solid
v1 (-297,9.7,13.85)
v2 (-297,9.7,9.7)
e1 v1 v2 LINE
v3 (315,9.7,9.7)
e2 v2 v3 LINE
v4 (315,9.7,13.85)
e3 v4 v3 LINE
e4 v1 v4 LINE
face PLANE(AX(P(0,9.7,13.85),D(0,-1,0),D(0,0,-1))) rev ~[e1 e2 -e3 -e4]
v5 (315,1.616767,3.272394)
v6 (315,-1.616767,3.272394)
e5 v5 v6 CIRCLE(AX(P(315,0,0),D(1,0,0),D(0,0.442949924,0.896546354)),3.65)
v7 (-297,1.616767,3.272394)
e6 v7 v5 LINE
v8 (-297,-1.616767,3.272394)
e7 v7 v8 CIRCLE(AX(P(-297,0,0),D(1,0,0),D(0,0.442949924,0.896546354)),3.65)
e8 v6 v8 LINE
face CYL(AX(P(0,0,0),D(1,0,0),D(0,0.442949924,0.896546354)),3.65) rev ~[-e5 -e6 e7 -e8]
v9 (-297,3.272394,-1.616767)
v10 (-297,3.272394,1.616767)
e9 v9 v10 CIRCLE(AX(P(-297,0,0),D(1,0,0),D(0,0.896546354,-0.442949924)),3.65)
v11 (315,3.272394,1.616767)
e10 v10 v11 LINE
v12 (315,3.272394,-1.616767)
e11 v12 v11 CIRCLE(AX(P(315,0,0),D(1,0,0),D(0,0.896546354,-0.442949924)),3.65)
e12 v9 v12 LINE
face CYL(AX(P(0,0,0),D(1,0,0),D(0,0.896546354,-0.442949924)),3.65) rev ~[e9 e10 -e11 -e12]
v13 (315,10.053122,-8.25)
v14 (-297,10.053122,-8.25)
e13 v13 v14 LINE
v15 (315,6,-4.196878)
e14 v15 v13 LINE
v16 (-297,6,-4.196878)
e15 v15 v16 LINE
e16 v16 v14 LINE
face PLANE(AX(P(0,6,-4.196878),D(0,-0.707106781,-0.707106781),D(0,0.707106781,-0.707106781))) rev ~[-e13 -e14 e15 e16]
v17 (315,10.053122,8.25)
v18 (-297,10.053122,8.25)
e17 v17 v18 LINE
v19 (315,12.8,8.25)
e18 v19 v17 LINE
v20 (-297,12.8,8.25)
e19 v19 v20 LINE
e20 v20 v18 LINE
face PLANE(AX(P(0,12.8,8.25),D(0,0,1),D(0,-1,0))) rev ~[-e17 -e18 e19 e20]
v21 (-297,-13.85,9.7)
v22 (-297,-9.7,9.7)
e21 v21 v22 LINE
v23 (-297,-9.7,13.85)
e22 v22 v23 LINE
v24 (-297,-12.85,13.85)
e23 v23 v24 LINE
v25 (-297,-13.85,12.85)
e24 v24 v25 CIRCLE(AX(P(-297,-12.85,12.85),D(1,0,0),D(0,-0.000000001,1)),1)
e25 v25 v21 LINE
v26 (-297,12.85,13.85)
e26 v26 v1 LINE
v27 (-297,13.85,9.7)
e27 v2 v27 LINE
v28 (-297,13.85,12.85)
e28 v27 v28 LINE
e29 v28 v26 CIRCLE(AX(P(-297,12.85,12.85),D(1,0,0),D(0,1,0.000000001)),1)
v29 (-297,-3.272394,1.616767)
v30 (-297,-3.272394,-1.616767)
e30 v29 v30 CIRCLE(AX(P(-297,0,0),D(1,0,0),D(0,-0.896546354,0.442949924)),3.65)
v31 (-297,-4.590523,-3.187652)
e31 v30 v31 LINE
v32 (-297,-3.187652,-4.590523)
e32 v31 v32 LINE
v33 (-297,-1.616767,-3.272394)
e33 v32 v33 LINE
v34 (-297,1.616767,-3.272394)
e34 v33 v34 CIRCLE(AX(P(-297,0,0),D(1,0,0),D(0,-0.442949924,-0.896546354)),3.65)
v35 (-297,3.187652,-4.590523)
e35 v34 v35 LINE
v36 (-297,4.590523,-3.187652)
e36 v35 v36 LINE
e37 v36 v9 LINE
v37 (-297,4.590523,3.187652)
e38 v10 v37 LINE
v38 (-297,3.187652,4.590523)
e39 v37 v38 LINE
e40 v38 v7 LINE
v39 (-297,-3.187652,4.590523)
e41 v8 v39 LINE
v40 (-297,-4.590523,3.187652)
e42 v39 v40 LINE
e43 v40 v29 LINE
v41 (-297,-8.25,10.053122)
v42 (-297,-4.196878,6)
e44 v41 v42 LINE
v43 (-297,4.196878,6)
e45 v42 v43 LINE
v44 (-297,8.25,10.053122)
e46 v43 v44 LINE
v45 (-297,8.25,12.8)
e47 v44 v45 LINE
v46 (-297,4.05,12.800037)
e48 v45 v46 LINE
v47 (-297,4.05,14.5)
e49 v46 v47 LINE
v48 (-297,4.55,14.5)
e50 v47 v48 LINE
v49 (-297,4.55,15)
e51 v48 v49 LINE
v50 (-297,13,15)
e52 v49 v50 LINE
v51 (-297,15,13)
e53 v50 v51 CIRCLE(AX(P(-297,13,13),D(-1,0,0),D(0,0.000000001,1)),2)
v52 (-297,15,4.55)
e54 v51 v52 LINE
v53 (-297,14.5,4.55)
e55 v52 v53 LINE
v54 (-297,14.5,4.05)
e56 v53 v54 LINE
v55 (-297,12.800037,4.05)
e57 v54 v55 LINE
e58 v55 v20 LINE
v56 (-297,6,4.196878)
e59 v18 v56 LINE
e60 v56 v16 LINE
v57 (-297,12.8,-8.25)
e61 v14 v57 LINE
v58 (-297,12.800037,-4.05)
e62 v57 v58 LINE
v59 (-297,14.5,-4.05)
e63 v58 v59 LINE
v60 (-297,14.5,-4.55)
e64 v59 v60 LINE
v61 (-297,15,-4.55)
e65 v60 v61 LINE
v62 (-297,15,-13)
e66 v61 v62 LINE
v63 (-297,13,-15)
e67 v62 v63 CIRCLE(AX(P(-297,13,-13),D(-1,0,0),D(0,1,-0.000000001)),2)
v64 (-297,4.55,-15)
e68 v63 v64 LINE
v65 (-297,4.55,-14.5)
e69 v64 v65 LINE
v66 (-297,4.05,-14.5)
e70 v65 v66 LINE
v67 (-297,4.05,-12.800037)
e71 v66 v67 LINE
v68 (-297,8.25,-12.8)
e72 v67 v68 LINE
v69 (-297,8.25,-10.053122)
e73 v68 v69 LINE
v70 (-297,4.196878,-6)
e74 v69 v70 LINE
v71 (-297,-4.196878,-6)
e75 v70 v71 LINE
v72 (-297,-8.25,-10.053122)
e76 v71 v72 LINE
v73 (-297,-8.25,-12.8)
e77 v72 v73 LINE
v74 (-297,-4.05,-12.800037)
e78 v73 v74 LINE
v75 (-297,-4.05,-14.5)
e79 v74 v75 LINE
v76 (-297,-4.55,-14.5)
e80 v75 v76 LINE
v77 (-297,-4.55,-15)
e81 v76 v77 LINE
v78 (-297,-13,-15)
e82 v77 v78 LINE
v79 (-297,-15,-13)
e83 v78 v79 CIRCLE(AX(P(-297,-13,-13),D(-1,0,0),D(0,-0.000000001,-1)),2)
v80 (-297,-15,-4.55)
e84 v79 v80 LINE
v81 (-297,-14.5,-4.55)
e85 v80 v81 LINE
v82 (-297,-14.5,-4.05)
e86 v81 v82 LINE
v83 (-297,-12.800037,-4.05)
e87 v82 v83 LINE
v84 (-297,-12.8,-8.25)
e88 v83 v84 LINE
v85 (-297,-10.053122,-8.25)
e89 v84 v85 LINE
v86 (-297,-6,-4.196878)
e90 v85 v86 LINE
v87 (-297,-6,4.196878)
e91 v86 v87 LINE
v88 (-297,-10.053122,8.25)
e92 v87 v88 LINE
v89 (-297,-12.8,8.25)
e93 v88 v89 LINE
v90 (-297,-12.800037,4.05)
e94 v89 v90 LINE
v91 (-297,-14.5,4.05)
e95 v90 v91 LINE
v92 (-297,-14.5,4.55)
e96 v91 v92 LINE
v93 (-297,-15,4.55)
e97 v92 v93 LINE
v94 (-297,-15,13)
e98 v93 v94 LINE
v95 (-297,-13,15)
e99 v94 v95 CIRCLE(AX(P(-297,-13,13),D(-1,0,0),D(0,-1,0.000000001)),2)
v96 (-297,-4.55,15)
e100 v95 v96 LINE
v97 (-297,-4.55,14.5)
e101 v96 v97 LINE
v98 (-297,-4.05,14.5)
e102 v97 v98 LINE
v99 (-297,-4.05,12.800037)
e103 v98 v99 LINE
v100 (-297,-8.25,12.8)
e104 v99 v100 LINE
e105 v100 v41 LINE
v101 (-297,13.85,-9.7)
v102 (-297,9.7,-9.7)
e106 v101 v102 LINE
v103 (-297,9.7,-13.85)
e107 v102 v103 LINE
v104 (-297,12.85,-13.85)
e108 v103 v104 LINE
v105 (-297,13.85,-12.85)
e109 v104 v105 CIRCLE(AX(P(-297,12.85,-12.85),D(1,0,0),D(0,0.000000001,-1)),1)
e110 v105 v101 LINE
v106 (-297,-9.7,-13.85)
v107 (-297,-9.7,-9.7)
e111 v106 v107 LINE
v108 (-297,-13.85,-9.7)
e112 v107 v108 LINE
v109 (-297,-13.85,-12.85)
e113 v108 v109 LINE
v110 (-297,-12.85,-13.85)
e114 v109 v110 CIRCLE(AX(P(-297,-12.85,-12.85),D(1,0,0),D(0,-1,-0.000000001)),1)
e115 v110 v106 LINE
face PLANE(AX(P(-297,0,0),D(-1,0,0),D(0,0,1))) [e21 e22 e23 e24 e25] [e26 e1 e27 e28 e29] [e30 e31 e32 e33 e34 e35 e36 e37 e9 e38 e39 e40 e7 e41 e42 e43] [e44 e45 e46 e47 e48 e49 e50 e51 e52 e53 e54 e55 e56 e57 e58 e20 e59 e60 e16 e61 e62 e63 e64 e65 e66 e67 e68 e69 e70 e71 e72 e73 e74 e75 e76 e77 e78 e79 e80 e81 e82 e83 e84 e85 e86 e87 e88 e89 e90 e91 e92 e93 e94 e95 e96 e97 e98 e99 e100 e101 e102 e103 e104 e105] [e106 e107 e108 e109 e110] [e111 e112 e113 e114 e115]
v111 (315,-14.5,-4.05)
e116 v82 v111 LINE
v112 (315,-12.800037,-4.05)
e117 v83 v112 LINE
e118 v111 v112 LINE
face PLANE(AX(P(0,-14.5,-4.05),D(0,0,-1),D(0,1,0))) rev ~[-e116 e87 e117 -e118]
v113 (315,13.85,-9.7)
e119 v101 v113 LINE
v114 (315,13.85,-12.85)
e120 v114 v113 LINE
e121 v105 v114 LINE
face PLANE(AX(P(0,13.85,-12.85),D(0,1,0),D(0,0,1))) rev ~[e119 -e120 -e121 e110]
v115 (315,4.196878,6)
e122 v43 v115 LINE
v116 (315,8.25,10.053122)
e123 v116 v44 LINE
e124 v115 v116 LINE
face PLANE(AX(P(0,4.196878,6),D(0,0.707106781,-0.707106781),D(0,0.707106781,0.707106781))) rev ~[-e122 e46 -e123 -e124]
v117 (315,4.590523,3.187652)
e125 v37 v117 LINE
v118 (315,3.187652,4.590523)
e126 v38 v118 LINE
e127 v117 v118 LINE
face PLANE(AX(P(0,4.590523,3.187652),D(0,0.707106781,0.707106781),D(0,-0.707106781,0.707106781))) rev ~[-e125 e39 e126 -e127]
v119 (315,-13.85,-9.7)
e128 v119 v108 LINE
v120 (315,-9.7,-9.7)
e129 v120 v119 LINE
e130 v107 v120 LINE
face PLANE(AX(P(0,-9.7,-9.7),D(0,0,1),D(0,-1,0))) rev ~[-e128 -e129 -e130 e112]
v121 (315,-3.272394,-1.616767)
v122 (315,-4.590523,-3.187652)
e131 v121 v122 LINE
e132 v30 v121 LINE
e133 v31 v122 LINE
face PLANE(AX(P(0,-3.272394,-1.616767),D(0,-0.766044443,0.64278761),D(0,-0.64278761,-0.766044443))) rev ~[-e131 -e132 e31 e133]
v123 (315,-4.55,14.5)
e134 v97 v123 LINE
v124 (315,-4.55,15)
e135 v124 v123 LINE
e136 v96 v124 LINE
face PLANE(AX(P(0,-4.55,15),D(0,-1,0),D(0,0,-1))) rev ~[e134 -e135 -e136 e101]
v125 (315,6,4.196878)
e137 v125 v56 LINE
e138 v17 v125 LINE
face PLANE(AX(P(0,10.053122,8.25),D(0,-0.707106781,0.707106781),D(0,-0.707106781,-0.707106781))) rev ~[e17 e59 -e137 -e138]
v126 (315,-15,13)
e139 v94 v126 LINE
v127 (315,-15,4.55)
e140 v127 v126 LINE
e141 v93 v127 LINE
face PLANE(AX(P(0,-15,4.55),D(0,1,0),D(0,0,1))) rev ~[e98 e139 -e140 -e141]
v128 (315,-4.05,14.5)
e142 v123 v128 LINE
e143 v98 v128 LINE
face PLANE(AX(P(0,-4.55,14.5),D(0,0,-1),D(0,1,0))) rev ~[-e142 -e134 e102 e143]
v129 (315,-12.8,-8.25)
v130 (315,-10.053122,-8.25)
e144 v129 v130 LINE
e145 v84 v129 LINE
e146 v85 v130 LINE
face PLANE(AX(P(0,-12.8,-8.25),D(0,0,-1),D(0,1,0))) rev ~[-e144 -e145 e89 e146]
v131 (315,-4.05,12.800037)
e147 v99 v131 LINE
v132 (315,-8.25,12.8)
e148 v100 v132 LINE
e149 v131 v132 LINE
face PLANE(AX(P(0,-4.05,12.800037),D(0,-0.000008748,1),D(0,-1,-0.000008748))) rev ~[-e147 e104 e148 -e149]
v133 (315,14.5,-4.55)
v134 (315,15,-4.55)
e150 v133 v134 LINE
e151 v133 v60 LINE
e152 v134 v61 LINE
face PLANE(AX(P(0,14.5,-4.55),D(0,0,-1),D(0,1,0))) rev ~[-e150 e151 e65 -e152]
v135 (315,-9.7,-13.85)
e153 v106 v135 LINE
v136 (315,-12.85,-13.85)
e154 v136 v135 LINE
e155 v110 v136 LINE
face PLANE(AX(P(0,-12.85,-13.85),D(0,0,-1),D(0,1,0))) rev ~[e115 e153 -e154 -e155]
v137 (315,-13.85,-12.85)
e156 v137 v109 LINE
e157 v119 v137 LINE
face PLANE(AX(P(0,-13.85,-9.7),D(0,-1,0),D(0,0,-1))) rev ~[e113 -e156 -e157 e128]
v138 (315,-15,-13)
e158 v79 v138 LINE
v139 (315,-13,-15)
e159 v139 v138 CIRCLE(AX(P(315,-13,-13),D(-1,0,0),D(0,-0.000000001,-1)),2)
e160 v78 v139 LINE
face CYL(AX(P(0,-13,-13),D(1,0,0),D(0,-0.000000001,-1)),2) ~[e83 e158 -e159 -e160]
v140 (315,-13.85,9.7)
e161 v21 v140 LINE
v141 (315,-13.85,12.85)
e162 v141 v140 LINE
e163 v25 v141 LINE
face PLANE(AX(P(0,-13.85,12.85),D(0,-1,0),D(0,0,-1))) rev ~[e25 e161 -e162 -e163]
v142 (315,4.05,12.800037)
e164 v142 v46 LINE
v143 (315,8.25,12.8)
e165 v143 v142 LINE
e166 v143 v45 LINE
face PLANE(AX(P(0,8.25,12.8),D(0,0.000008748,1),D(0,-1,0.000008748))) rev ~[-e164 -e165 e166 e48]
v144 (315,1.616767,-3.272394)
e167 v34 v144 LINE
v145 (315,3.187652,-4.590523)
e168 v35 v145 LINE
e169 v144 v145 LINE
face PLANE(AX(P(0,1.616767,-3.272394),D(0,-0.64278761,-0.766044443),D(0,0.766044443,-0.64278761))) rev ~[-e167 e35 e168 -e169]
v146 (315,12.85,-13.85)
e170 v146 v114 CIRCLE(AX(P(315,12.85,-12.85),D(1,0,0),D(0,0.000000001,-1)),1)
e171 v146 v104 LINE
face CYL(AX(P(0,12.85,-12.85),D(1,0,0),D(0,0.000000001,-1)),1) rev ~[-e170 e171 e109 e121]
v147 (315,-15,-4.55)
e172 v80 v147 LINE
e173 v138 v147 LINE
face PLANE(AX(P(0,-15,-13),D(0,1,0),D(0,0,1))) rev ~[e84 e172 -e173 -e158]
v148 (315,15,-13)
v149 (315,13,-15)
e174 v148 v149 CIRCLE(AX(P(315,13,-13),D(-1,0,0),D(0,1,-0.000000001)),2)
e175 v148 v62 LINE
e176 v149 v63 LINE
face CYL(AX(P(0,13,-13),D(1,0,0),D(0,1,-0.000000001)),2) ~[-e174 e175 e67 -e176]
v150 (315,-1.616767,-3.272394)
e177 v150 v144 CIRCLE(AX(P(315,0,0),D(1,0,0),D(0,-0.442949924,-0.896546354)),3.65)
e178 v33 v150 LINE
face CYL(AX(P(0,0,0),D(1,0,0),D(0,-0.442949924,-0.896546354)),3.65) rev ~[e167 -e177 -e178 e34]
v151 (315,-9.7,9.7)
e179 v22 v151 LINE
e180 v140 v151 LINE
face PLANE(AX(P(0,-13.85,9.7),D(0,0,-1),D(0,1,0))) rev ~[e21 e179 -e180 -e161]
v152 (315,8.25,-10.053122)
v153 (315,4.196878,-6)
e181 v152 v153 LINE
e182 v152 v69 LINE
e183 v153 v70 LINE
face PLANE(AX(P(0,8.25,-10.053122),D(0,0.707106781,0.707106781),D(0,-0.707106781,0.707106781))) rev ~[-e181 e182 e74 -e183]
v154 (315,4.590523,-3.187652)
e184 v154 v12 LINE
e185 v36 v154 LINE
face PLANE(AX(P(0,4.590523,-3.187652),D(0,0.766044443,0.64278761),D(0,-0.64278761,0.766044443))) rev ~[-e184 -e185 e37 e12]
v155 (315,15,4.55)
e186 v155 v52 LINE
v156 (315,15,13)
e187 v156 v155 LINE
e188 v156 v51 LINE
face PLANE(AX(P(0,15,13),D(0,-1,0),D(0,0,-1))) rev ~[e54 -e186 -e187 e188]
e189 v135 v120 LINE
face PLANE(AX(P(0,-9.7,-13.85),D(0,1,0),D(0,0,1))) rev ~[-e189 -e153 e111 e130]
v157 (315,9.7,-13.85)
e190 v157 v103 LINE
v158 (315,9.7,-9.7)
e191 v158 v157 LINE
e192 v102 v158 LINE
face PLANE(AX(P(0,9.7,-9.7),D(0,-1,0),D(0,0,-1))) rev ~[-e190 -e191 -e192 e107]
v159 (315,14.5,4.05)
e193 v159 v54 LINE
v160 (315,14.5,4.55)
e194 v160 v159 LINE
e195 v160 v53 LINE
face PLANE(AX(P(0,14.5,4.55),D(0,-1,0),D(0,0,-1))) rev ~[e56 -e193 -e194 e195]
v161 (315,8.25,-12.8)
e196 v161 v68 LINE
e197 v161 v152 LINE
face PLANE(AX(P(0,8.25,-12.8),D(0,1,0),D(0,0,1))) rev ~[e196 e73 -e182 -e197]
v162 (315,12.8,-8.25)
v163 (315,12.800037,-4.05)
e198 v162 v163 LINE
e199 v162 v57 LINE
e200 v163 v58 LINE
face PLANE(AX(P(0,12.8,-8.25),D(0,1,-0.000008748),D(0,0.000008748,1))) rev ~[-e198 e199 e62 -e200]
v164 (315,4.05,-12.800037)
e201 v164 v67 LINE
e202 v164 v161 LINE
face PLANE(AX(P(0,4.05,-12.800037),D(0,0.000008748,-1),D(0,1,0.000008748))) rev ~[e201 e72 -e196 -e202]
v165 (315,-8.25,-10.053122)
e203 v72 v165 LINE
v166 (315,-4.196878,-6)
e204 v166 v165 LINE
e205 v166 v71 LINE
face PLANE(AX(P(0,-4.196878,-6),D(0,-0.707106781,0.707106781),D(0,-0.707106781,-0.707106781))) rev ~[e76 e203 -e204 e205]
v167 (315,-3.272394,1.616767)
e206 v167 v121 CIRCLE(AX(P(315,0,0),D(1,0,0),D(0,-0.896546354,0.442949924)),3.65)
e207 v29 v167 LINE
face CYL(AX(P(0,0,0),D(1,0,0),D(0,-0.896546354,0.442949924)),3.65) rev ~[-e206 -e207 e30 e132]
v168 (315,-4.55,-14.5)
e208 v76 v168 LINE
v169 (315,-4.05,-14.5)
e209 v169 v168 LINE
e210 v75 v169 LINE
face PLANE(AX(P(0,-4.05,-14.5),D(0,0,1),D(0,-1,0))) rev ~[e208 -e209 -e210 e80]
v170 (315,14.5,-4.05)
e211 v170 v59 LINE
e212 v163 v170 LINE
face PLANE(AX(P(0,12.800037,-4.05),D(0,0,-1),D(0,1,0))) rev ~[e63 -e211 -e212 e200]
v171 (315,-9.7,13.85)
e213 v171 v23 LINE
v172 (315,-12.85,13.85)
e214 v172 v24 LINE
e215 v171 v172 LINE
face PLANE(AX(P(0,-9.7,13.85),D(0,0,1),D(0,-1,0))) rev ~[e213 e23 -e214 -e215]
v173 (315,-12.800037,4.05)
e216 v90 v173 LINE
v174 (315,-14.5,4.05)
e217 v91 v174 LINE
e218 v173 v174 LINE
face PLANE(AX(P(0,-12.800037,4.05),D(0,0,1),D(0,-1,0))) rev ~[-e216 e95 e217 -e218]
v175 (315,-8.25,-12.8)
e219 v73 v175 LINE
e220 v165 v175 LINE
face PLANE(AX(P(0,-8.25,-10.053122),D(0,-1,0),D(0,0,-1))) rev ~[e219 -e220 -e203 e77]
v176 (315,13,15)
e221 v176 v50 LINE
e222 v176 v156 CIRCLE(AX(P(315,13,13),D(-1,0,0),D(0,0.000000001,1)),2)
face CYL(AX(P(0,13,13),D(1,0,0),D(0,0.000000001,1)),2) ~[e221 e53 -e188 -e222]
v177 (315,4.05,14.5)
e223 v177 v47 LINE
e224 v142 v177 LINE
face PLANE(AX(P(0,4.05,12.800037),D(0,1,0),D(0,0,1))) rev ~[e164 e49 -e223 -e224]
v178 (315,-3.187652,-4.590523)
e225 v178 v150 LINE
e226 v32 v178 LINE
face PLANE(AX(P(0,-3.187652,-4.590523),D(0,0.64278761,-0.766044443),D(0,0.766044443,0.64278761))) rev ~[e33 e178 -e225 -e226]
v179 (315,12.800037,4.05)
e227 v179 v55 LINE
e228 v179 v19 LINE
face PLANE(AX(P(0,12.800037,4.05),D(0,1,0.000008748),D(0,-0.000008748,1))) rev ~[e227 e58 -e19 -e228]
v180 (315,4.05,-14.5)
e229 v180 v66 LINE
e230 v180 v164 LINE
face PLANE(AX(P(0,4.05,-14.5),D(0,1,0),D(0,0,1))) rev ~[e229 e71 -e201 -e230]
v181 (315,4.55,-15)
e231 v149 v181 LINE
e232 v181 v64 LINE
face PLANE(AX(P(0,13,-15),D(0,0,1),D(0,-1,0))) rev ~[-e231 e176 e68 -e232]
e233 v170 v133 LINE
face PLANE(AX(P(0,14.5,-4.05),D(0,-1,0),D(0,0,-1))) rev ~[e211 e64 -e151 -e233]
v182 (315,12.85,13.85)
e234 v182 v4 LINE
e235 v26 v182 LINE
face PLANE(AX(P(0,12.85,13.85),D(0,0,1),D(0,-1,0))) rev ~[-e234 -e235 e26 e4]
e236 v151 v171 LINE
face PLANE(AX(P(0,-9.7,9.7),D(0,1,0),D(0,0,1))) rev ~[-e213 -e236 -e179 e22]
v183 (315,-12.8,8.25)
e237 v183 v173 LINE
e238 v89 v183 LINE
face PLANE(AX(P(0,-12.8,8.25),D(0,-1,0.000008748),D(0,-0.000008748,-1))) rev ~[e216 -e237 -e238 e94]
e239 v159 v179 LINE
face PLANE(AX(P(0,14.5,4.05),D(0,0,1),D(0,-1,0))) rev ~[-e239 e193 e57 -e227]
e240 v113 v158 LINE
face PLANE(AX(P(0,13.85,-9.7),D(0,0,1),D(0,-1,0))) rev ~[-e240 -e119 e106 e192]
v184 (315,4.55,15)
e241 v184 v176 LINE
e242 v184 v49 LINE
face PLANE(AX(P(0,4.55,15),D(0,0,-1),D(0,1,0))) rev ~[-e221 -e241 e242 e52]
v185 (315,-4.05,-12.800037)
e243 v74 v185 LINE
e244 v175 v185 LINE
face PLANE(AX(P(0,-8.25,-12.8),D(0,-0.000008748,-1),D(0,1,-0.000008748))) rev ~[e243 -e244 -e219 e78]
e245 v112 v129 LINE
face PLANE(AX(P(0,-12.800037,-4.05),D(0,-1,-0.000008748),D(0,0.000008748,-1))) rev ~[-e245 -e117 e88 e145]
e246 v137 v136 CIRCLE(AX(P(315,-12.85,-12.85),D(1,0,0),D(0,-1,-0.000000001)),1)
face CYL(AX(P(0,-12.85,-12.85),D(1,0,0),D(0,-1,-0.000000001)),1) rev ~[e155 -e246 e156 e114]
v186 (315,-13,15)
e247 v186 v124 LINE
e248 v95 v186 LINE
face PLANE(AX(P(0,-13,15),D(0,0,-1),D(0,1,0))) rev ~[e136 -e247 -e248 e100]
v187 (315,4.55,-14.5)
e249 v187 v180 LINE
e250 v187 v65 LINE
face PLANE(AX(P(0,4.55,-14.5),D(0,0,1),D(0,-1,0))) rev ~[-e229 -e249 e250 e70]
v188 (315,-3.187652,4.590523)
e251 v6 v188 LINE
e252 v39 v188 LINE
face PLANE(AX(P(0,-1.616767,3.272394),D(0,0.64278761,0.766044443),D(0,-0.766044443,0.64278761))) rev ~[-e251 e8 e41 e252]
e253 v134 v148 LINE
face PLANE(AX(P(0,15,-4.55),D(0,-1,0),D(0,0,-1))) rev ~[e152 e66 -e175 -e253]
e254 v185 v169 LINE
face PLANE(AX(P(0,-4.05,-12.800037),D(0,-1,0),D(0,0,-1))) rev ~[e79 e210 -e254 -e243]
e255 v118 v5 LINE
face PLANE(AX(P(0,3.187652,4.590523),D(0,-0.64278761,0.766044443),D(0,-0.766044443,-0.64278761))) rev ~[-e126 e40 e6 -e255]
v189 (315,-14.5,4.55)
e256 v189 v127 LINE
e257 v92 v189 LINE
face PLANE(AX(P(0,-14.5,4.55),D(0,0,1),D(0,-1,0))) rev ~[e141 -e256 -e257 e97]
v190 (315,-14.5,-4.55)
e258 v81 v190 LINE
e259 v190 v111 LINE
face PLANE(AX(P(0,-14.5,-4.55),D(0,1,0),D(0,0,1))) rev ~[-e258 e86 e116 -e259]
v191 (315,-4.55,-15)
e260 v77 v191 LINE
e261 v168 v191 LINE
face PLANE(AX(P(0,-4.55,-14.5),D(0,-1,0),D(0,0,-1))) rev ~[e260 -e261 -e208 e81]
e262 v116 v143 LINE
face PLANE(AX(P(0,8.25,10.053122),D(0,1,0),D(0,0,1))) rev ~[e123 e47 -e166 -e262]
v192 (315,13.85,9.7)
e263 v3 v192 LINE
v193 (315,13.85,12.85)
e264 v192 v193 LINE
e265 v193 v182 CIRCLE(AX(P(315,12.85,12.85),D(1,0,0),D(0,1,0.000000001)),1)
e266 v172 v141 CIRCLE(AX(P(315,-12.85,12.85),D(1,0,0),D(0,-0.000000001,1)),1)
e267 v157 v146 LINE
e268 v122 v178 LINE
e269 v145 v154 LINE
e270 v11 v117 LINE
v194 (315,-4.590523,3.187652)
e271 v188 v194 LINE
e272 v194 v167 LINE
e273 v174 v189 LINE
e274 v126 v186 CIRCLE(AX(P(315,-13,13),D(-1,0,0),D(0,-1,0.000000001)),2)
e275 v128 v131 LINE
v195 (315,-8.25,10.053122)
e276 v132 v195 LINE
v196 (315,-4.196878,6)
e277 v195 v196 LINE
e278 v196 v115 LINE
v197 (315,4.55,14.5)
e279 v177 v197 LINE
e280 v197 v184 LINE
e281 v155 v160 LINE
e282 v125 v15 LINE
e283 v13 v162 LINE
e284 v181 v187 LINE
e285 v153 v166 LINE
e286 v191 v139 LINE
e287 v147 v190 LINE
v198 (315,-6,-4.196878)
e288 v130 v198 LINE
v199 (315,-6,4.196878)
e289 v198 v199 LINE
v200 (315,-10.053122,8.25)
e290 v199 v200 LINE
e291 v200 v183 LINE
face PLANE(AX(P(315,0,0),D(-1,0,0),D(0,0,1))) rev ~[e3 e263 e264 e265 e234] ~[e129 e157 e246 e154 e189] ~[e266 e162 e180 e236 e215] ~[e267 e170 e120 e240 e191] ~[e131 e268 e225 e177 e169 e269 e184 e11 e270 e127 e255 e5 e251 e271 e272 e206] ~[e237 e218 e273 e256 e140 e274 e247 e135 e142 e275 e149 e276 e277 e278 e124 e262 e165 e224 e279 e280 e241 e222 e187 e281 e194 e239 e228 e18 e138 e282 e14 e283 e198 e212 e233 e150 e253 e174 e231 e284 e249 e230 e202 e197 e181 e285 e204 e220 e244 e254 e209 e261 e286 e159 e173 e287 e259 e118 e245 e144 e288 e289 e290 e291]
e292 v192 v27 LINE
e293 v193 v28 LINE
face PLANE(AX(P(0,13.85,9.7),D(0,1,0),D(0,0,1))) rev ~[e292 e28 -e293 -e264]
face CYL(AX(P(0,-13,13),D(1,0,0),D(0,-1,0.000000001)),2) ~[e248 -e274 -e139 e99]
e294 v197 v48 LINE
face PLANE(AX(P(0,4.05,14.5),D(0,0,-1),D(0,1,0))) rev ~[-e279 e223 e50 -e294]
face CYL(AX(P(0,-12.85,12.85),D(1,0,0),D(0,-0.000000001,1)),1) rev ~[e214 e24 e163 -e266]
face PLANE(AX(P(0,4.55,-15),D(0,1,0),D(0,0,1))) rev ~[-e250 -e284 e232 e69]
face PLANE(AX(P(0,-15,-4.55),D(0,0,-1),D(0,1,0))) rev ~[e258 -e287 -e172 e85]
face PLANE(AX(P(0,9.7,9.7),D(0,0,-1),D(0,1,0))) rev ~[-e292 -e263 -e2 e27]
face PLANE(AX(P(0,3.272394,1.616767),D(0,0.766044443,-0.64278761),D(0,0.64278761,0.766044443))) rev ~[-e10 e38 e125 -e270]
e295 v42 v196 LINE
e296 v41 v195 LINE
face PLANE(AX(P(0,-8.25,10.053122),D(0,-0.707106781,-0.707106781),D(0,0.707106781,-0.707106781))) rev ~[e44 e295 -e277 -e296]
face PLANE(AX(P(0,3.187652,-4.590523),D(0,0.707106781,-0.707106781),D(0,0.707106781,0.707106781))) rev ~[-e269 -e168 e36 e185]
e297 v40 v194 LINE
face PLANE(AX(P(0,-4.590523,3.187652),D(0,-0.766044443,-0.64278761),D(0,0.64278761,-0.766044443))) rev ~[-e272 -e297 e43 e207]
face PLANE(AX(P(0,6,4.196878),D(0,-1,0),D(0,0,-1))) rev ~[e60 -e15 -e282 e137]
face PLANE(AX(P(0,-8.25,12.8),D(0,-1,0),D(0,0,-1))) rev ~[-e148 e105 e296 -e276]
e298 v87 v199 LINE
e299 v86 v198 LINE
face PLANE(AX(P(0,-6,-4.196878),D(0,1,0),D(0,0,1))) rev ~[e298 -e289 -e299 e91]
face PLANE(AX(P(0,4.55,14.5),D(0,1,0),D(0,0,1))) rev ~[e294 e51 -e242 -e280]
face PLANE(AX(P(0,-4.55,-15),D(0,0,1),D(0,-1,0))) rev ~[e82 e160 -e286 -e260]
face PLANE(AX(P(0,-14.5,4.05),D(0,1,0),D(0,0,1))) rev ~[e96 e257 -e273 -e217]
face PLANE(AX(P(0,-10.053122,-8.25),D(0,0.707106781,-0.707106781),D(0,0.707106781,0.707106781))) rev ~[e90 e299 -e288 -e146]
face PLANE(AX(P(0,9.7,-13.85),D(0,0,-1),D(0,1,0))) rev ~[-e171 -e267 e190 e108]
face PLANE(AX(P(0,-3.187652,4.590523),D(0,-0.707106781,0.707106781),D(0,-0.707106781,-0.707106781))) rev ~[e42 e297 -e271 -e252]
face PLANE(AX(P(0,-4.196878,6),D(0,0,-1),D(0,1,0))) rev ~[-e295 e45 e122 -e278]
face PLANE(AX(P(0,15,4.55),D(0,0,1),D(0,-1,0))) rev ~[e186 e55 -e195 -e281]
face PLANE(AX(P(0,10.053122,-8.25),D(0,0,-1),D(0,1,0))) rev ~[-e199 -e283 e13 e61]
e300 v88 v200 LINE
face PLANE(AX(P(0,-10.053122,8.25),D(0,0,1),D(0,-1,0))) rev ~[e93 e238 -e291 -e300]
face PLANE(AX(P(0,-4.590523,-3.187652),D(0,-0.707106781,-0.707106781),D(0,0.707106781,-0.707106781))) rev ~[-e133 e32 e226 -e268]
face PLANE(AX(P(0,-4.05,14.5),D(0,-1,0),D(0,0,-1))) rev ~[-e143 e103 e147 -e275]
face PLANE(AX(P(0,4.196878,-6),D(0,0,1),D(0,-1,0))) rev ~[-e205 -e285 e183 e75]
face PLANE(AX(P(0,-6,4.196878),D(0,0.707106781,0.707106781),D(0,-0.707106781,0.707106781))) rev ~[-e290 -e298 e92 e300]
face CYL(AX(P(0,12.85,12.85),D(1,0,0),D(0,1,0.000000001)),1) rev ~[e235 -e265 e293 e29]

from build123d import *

# Parameters (mm, degrees)
BR_EXTRUDE_DEPTH      = 315
BR_EXTRUDE_DEPTH_BACK = 297


with BuildPart() as part:
    # Sketch2 → BR_Extrude (new body, two sides)
    with BuildSketch(Plane(origin=(0, 0, 0), x_dir=(0, 0, -1), z_dir=(1, 0, 0))) as br_extrude_sk:
        with BuildLine():
            Line((-6, 4.196877708), (-10.053122292, 8.25))
            Line((-10.053122292, 8.25), (-12.8, 8.25))
            Line((-12.8, 8.25), (-12.800036742, 4.05))
            Line((-12.800036742, 4.05), (-14.5, 4.05))
            Line((-14.5, 4.05), (-14.5, 4.55))
            Line((-14.5, 4.55), (-15, 4.55))
            Line((-15, 4.55), (-15, 13))
            ThreePointArc((-15, 13), (-14.414213562, 14.414213562), (-13, 15))
            Line((-13, 15), (-4.55, 15))
            Line((-4.55, 15), (-4.55, 14.5))
            Line((-4.55, 14.5), (-4.05, 14.5))
            Line((-4.05, 14.5), (-4.05, 12.800036742))
            Line((-4.05, 12.800036742), (-8.25, 12.8))
            Line((-8.25, 12.8), (-8.25, 10.053122292))
            Line((-8.25, 10.053122292), (-4.196877708, 6))
            Line((-4.196877708, 6), (4.196877708, 6))
            Line((4.196877708, 6), (8.25, 10.053122292))
            Line((8.25, 10.053122292), (8.25, 12.8))
            Line((8.25, 12.8), (4.05, 12.800036742))
            Line((4.05, 12.800036742), (4.05, 14.5))
            Line((4.05, 14.5), (4.55, 14.5))
            Line((4.55, 14.5), (4.55, 15))
            Line((4.55, 15), (13, 15))
            ThreePointArc((13, 15), (14.414213562, 14.414213562), (15, 13))
            Line((15, 13), (15, 4.55))
            Line((15, 4.55), (14.5, 4.55))
            Line((14.5, 4.55), (14.5, 4.05))
            Line((14.5, 4.05), (12.800036742, 4.05))
            Line((12.800036742, 4.05), (12.8, 8.25))
            Line((12.8, 8.25), (10.053122292, 8.25))
            Line((10.053122292, 8.25), (6, 4.196877708))
            Line((6, 4.196877708), (6, -4.196877708))
            Line((6, -4.196877708), (10.053122292, -8.25))
            Line((10.053122292, -8.25), (12.8, -8.25))
            Line((12.8, -8.25), (12.800036742, -4.05))
            Line((12.800036742, -4.05), (14.5, -4.05))
            Line((14.5, -4.05), (14.5, -4.55))
            Line((14.5, -4.55), (15, -4.55))
            Line((15, -4.55), (15, -13))
            ThreePointArc((15, -13), (14.414213562, -14.414213562), (13, -15))
            Line((13, -15), (4.55, -15))
            Line((4.55, -15), (4.55, -14.5))
            Line((4.55, -14.5), (4.05, -14.5))
            Line((4.05, -14.5), (4.05, -12.800036742))
            Line((4.05, -12.800036742), (8.25, -12.8))
            Line((8.25, -12.8), (8.25, -10.053122292))
            Line((8.25, -10.053122292), (4.196877708, -6))
            Line((4.196877708, -6), (-4.196877708, -6))
            Line((-4.196877708, -6), (-8.25, -10.053122292))
            Line((-8.25, -10.053122292), (-8.25, -12.8))
            Line((-8.25, -12.8), (-4.05, -12.800036742))
            Line((-4.05, -12.800036742), (-4.05, -14.5))
            Line((-4.05, -14.5), (-4.55, -14.5))
            Line((-4.55, -14.5), (-4.55, -15))
            Line((-4.55, -15), (-13, -15))
            ThreePointArc((-13, -15), (-14.414213562, -14.414213562), (-15, -13))
            Line((-15, -13), (-15, -4.55))
            Line((-15, -4.55), (-14.5, -4.55))
            Line((-14.5, -4.55), (-14.5, -4.05))
            Line((-14.5, -4.05), (-12.800036742, -4.05))
            Line((-12.800036742, -4.05), (-12.8, -8.25))
            Line((-12.8, -8.25), (-10.053122292, -8.25))
            Line((-10.053122292, -8.25), (-6, -4.196877708))
            Line((-6, -4.196877708), (-6, 4.196877708))
        make_face()
        with BuildLine():
            Line((-13.85, -9.7), (-13.85, -12.85))
            ThreePointArc((-13.85, -12.85), (-13.557106781, -13.557106781), (-12.85, -13.85))
            Line((-12.85, -13.85), (-9.7, -13.85))
            Line((-9.7, -13.85), (-9.7, -9.7))
            Line((-9.7, -9.7), (-13.85, -9.7))
        make_face(mode=Mode.SUBTRACT)
        with BuildLine():
            Line((9.7, -13.85), (12.85, -13.85))
            ThreePointArc((12.85, -13.85), (13.557106781, -13.557106781), (13.85, -12.85))
            Line((13.85, -12.85), (13.85, -9.7))
            Line((13.85, -9.7), (9.7, -9.7))
            Line((9.7, -9.7), (9.7, -13.85))
        make_face(mode=Mode.SUBTRACT)
        with BuildLine():
            Line((13.85, 9.7), (13.85, 12.85))
            ThreePointArc((13.85, 12.85), (13.557106781, 13.557106781), (12.85, 13.85))
            Line((12.85, 13.85), (9.7, 13.85))
            Line((9.7, 13.85), (9.7, 9.7))
            Line((9.7, 9.7), (13.85, 9.7))
        make_face(mode=Mode.SUBTRACT)
        with BuildLine():
            Line((-9.7, 13.85), (-12.85, 13.85))
            ThreePointArc((-12.85, 13.85), (-13.557106781, 13.557106781), (-13.85, 12.85))
            Line((-13.85, 12.85), (-13.85, 9.7))
            Line((-13.85, 9.7), (-9.7, 9.7))
            Line((-9.7, 9.7), (-9.7, 13.85))
        make_face(mode=Mode.SUBTRACT)
        with BuildLine():
            Line((-3.272394192, -1.616767223), (-4.59052283, -3.187651763))
            Line((-4.59052283, -3.187651763), (-3.187651763, -4.59052283))
            Line((-3.187651763, -4.59052283), (-1.616767223, -3.272394192))
            ThreePointArc((-1.616767223, -3.272394192), (0, -3.65), (1.616767223, -3.272394192))
            Line((1.616767223, -3.272394192), (3.187651763, -4.59052283))
            Line((3.187651763, -4.59052283), (4.59052283, -3.187651763))
            Line((4.59052283, -3.187651763), (3.272394192, -1.616767223))
            ThreePointArc((3.272394192, -1.616767223), (3.65, 0), (3.272394192, 1.616767223))
            Line((3.272394192, 1.616767223), (4.59052283, 3.187651763))
            Line((4.59052283, 3.187651763), (3.187651763, 4.59052283))
            Line((3.187651763, 4.59052283), (1.616767223, 3.272394192))
            ThreePointArc((1.616767223, 3.272394192), (0, 3.65), (-1.616767223, 3.272394192))
            Line((-1.616767223, 3.272394192), (-3.187651763, 4.59052283))
            Line((-3.187651763, 4.59052283), (-4.59052283, 3.187651763))
            Line((-4.59052283, 3.187651763), (-3.272394192, 1.616767223))
            ThreePointArc((-3.272394192, 1.616767223), (-3.65, 0), (-3.272394192, -1.616767223))
        make_face(mode=Mode.SUBTRACT)
    extrude(amount=BR_EXTRUDE_DEPTH)
    extrude(br_extrude_sk.sketch, amount=-BR_EXTRUDE_DEPTH_BACK)


solid = part.part
